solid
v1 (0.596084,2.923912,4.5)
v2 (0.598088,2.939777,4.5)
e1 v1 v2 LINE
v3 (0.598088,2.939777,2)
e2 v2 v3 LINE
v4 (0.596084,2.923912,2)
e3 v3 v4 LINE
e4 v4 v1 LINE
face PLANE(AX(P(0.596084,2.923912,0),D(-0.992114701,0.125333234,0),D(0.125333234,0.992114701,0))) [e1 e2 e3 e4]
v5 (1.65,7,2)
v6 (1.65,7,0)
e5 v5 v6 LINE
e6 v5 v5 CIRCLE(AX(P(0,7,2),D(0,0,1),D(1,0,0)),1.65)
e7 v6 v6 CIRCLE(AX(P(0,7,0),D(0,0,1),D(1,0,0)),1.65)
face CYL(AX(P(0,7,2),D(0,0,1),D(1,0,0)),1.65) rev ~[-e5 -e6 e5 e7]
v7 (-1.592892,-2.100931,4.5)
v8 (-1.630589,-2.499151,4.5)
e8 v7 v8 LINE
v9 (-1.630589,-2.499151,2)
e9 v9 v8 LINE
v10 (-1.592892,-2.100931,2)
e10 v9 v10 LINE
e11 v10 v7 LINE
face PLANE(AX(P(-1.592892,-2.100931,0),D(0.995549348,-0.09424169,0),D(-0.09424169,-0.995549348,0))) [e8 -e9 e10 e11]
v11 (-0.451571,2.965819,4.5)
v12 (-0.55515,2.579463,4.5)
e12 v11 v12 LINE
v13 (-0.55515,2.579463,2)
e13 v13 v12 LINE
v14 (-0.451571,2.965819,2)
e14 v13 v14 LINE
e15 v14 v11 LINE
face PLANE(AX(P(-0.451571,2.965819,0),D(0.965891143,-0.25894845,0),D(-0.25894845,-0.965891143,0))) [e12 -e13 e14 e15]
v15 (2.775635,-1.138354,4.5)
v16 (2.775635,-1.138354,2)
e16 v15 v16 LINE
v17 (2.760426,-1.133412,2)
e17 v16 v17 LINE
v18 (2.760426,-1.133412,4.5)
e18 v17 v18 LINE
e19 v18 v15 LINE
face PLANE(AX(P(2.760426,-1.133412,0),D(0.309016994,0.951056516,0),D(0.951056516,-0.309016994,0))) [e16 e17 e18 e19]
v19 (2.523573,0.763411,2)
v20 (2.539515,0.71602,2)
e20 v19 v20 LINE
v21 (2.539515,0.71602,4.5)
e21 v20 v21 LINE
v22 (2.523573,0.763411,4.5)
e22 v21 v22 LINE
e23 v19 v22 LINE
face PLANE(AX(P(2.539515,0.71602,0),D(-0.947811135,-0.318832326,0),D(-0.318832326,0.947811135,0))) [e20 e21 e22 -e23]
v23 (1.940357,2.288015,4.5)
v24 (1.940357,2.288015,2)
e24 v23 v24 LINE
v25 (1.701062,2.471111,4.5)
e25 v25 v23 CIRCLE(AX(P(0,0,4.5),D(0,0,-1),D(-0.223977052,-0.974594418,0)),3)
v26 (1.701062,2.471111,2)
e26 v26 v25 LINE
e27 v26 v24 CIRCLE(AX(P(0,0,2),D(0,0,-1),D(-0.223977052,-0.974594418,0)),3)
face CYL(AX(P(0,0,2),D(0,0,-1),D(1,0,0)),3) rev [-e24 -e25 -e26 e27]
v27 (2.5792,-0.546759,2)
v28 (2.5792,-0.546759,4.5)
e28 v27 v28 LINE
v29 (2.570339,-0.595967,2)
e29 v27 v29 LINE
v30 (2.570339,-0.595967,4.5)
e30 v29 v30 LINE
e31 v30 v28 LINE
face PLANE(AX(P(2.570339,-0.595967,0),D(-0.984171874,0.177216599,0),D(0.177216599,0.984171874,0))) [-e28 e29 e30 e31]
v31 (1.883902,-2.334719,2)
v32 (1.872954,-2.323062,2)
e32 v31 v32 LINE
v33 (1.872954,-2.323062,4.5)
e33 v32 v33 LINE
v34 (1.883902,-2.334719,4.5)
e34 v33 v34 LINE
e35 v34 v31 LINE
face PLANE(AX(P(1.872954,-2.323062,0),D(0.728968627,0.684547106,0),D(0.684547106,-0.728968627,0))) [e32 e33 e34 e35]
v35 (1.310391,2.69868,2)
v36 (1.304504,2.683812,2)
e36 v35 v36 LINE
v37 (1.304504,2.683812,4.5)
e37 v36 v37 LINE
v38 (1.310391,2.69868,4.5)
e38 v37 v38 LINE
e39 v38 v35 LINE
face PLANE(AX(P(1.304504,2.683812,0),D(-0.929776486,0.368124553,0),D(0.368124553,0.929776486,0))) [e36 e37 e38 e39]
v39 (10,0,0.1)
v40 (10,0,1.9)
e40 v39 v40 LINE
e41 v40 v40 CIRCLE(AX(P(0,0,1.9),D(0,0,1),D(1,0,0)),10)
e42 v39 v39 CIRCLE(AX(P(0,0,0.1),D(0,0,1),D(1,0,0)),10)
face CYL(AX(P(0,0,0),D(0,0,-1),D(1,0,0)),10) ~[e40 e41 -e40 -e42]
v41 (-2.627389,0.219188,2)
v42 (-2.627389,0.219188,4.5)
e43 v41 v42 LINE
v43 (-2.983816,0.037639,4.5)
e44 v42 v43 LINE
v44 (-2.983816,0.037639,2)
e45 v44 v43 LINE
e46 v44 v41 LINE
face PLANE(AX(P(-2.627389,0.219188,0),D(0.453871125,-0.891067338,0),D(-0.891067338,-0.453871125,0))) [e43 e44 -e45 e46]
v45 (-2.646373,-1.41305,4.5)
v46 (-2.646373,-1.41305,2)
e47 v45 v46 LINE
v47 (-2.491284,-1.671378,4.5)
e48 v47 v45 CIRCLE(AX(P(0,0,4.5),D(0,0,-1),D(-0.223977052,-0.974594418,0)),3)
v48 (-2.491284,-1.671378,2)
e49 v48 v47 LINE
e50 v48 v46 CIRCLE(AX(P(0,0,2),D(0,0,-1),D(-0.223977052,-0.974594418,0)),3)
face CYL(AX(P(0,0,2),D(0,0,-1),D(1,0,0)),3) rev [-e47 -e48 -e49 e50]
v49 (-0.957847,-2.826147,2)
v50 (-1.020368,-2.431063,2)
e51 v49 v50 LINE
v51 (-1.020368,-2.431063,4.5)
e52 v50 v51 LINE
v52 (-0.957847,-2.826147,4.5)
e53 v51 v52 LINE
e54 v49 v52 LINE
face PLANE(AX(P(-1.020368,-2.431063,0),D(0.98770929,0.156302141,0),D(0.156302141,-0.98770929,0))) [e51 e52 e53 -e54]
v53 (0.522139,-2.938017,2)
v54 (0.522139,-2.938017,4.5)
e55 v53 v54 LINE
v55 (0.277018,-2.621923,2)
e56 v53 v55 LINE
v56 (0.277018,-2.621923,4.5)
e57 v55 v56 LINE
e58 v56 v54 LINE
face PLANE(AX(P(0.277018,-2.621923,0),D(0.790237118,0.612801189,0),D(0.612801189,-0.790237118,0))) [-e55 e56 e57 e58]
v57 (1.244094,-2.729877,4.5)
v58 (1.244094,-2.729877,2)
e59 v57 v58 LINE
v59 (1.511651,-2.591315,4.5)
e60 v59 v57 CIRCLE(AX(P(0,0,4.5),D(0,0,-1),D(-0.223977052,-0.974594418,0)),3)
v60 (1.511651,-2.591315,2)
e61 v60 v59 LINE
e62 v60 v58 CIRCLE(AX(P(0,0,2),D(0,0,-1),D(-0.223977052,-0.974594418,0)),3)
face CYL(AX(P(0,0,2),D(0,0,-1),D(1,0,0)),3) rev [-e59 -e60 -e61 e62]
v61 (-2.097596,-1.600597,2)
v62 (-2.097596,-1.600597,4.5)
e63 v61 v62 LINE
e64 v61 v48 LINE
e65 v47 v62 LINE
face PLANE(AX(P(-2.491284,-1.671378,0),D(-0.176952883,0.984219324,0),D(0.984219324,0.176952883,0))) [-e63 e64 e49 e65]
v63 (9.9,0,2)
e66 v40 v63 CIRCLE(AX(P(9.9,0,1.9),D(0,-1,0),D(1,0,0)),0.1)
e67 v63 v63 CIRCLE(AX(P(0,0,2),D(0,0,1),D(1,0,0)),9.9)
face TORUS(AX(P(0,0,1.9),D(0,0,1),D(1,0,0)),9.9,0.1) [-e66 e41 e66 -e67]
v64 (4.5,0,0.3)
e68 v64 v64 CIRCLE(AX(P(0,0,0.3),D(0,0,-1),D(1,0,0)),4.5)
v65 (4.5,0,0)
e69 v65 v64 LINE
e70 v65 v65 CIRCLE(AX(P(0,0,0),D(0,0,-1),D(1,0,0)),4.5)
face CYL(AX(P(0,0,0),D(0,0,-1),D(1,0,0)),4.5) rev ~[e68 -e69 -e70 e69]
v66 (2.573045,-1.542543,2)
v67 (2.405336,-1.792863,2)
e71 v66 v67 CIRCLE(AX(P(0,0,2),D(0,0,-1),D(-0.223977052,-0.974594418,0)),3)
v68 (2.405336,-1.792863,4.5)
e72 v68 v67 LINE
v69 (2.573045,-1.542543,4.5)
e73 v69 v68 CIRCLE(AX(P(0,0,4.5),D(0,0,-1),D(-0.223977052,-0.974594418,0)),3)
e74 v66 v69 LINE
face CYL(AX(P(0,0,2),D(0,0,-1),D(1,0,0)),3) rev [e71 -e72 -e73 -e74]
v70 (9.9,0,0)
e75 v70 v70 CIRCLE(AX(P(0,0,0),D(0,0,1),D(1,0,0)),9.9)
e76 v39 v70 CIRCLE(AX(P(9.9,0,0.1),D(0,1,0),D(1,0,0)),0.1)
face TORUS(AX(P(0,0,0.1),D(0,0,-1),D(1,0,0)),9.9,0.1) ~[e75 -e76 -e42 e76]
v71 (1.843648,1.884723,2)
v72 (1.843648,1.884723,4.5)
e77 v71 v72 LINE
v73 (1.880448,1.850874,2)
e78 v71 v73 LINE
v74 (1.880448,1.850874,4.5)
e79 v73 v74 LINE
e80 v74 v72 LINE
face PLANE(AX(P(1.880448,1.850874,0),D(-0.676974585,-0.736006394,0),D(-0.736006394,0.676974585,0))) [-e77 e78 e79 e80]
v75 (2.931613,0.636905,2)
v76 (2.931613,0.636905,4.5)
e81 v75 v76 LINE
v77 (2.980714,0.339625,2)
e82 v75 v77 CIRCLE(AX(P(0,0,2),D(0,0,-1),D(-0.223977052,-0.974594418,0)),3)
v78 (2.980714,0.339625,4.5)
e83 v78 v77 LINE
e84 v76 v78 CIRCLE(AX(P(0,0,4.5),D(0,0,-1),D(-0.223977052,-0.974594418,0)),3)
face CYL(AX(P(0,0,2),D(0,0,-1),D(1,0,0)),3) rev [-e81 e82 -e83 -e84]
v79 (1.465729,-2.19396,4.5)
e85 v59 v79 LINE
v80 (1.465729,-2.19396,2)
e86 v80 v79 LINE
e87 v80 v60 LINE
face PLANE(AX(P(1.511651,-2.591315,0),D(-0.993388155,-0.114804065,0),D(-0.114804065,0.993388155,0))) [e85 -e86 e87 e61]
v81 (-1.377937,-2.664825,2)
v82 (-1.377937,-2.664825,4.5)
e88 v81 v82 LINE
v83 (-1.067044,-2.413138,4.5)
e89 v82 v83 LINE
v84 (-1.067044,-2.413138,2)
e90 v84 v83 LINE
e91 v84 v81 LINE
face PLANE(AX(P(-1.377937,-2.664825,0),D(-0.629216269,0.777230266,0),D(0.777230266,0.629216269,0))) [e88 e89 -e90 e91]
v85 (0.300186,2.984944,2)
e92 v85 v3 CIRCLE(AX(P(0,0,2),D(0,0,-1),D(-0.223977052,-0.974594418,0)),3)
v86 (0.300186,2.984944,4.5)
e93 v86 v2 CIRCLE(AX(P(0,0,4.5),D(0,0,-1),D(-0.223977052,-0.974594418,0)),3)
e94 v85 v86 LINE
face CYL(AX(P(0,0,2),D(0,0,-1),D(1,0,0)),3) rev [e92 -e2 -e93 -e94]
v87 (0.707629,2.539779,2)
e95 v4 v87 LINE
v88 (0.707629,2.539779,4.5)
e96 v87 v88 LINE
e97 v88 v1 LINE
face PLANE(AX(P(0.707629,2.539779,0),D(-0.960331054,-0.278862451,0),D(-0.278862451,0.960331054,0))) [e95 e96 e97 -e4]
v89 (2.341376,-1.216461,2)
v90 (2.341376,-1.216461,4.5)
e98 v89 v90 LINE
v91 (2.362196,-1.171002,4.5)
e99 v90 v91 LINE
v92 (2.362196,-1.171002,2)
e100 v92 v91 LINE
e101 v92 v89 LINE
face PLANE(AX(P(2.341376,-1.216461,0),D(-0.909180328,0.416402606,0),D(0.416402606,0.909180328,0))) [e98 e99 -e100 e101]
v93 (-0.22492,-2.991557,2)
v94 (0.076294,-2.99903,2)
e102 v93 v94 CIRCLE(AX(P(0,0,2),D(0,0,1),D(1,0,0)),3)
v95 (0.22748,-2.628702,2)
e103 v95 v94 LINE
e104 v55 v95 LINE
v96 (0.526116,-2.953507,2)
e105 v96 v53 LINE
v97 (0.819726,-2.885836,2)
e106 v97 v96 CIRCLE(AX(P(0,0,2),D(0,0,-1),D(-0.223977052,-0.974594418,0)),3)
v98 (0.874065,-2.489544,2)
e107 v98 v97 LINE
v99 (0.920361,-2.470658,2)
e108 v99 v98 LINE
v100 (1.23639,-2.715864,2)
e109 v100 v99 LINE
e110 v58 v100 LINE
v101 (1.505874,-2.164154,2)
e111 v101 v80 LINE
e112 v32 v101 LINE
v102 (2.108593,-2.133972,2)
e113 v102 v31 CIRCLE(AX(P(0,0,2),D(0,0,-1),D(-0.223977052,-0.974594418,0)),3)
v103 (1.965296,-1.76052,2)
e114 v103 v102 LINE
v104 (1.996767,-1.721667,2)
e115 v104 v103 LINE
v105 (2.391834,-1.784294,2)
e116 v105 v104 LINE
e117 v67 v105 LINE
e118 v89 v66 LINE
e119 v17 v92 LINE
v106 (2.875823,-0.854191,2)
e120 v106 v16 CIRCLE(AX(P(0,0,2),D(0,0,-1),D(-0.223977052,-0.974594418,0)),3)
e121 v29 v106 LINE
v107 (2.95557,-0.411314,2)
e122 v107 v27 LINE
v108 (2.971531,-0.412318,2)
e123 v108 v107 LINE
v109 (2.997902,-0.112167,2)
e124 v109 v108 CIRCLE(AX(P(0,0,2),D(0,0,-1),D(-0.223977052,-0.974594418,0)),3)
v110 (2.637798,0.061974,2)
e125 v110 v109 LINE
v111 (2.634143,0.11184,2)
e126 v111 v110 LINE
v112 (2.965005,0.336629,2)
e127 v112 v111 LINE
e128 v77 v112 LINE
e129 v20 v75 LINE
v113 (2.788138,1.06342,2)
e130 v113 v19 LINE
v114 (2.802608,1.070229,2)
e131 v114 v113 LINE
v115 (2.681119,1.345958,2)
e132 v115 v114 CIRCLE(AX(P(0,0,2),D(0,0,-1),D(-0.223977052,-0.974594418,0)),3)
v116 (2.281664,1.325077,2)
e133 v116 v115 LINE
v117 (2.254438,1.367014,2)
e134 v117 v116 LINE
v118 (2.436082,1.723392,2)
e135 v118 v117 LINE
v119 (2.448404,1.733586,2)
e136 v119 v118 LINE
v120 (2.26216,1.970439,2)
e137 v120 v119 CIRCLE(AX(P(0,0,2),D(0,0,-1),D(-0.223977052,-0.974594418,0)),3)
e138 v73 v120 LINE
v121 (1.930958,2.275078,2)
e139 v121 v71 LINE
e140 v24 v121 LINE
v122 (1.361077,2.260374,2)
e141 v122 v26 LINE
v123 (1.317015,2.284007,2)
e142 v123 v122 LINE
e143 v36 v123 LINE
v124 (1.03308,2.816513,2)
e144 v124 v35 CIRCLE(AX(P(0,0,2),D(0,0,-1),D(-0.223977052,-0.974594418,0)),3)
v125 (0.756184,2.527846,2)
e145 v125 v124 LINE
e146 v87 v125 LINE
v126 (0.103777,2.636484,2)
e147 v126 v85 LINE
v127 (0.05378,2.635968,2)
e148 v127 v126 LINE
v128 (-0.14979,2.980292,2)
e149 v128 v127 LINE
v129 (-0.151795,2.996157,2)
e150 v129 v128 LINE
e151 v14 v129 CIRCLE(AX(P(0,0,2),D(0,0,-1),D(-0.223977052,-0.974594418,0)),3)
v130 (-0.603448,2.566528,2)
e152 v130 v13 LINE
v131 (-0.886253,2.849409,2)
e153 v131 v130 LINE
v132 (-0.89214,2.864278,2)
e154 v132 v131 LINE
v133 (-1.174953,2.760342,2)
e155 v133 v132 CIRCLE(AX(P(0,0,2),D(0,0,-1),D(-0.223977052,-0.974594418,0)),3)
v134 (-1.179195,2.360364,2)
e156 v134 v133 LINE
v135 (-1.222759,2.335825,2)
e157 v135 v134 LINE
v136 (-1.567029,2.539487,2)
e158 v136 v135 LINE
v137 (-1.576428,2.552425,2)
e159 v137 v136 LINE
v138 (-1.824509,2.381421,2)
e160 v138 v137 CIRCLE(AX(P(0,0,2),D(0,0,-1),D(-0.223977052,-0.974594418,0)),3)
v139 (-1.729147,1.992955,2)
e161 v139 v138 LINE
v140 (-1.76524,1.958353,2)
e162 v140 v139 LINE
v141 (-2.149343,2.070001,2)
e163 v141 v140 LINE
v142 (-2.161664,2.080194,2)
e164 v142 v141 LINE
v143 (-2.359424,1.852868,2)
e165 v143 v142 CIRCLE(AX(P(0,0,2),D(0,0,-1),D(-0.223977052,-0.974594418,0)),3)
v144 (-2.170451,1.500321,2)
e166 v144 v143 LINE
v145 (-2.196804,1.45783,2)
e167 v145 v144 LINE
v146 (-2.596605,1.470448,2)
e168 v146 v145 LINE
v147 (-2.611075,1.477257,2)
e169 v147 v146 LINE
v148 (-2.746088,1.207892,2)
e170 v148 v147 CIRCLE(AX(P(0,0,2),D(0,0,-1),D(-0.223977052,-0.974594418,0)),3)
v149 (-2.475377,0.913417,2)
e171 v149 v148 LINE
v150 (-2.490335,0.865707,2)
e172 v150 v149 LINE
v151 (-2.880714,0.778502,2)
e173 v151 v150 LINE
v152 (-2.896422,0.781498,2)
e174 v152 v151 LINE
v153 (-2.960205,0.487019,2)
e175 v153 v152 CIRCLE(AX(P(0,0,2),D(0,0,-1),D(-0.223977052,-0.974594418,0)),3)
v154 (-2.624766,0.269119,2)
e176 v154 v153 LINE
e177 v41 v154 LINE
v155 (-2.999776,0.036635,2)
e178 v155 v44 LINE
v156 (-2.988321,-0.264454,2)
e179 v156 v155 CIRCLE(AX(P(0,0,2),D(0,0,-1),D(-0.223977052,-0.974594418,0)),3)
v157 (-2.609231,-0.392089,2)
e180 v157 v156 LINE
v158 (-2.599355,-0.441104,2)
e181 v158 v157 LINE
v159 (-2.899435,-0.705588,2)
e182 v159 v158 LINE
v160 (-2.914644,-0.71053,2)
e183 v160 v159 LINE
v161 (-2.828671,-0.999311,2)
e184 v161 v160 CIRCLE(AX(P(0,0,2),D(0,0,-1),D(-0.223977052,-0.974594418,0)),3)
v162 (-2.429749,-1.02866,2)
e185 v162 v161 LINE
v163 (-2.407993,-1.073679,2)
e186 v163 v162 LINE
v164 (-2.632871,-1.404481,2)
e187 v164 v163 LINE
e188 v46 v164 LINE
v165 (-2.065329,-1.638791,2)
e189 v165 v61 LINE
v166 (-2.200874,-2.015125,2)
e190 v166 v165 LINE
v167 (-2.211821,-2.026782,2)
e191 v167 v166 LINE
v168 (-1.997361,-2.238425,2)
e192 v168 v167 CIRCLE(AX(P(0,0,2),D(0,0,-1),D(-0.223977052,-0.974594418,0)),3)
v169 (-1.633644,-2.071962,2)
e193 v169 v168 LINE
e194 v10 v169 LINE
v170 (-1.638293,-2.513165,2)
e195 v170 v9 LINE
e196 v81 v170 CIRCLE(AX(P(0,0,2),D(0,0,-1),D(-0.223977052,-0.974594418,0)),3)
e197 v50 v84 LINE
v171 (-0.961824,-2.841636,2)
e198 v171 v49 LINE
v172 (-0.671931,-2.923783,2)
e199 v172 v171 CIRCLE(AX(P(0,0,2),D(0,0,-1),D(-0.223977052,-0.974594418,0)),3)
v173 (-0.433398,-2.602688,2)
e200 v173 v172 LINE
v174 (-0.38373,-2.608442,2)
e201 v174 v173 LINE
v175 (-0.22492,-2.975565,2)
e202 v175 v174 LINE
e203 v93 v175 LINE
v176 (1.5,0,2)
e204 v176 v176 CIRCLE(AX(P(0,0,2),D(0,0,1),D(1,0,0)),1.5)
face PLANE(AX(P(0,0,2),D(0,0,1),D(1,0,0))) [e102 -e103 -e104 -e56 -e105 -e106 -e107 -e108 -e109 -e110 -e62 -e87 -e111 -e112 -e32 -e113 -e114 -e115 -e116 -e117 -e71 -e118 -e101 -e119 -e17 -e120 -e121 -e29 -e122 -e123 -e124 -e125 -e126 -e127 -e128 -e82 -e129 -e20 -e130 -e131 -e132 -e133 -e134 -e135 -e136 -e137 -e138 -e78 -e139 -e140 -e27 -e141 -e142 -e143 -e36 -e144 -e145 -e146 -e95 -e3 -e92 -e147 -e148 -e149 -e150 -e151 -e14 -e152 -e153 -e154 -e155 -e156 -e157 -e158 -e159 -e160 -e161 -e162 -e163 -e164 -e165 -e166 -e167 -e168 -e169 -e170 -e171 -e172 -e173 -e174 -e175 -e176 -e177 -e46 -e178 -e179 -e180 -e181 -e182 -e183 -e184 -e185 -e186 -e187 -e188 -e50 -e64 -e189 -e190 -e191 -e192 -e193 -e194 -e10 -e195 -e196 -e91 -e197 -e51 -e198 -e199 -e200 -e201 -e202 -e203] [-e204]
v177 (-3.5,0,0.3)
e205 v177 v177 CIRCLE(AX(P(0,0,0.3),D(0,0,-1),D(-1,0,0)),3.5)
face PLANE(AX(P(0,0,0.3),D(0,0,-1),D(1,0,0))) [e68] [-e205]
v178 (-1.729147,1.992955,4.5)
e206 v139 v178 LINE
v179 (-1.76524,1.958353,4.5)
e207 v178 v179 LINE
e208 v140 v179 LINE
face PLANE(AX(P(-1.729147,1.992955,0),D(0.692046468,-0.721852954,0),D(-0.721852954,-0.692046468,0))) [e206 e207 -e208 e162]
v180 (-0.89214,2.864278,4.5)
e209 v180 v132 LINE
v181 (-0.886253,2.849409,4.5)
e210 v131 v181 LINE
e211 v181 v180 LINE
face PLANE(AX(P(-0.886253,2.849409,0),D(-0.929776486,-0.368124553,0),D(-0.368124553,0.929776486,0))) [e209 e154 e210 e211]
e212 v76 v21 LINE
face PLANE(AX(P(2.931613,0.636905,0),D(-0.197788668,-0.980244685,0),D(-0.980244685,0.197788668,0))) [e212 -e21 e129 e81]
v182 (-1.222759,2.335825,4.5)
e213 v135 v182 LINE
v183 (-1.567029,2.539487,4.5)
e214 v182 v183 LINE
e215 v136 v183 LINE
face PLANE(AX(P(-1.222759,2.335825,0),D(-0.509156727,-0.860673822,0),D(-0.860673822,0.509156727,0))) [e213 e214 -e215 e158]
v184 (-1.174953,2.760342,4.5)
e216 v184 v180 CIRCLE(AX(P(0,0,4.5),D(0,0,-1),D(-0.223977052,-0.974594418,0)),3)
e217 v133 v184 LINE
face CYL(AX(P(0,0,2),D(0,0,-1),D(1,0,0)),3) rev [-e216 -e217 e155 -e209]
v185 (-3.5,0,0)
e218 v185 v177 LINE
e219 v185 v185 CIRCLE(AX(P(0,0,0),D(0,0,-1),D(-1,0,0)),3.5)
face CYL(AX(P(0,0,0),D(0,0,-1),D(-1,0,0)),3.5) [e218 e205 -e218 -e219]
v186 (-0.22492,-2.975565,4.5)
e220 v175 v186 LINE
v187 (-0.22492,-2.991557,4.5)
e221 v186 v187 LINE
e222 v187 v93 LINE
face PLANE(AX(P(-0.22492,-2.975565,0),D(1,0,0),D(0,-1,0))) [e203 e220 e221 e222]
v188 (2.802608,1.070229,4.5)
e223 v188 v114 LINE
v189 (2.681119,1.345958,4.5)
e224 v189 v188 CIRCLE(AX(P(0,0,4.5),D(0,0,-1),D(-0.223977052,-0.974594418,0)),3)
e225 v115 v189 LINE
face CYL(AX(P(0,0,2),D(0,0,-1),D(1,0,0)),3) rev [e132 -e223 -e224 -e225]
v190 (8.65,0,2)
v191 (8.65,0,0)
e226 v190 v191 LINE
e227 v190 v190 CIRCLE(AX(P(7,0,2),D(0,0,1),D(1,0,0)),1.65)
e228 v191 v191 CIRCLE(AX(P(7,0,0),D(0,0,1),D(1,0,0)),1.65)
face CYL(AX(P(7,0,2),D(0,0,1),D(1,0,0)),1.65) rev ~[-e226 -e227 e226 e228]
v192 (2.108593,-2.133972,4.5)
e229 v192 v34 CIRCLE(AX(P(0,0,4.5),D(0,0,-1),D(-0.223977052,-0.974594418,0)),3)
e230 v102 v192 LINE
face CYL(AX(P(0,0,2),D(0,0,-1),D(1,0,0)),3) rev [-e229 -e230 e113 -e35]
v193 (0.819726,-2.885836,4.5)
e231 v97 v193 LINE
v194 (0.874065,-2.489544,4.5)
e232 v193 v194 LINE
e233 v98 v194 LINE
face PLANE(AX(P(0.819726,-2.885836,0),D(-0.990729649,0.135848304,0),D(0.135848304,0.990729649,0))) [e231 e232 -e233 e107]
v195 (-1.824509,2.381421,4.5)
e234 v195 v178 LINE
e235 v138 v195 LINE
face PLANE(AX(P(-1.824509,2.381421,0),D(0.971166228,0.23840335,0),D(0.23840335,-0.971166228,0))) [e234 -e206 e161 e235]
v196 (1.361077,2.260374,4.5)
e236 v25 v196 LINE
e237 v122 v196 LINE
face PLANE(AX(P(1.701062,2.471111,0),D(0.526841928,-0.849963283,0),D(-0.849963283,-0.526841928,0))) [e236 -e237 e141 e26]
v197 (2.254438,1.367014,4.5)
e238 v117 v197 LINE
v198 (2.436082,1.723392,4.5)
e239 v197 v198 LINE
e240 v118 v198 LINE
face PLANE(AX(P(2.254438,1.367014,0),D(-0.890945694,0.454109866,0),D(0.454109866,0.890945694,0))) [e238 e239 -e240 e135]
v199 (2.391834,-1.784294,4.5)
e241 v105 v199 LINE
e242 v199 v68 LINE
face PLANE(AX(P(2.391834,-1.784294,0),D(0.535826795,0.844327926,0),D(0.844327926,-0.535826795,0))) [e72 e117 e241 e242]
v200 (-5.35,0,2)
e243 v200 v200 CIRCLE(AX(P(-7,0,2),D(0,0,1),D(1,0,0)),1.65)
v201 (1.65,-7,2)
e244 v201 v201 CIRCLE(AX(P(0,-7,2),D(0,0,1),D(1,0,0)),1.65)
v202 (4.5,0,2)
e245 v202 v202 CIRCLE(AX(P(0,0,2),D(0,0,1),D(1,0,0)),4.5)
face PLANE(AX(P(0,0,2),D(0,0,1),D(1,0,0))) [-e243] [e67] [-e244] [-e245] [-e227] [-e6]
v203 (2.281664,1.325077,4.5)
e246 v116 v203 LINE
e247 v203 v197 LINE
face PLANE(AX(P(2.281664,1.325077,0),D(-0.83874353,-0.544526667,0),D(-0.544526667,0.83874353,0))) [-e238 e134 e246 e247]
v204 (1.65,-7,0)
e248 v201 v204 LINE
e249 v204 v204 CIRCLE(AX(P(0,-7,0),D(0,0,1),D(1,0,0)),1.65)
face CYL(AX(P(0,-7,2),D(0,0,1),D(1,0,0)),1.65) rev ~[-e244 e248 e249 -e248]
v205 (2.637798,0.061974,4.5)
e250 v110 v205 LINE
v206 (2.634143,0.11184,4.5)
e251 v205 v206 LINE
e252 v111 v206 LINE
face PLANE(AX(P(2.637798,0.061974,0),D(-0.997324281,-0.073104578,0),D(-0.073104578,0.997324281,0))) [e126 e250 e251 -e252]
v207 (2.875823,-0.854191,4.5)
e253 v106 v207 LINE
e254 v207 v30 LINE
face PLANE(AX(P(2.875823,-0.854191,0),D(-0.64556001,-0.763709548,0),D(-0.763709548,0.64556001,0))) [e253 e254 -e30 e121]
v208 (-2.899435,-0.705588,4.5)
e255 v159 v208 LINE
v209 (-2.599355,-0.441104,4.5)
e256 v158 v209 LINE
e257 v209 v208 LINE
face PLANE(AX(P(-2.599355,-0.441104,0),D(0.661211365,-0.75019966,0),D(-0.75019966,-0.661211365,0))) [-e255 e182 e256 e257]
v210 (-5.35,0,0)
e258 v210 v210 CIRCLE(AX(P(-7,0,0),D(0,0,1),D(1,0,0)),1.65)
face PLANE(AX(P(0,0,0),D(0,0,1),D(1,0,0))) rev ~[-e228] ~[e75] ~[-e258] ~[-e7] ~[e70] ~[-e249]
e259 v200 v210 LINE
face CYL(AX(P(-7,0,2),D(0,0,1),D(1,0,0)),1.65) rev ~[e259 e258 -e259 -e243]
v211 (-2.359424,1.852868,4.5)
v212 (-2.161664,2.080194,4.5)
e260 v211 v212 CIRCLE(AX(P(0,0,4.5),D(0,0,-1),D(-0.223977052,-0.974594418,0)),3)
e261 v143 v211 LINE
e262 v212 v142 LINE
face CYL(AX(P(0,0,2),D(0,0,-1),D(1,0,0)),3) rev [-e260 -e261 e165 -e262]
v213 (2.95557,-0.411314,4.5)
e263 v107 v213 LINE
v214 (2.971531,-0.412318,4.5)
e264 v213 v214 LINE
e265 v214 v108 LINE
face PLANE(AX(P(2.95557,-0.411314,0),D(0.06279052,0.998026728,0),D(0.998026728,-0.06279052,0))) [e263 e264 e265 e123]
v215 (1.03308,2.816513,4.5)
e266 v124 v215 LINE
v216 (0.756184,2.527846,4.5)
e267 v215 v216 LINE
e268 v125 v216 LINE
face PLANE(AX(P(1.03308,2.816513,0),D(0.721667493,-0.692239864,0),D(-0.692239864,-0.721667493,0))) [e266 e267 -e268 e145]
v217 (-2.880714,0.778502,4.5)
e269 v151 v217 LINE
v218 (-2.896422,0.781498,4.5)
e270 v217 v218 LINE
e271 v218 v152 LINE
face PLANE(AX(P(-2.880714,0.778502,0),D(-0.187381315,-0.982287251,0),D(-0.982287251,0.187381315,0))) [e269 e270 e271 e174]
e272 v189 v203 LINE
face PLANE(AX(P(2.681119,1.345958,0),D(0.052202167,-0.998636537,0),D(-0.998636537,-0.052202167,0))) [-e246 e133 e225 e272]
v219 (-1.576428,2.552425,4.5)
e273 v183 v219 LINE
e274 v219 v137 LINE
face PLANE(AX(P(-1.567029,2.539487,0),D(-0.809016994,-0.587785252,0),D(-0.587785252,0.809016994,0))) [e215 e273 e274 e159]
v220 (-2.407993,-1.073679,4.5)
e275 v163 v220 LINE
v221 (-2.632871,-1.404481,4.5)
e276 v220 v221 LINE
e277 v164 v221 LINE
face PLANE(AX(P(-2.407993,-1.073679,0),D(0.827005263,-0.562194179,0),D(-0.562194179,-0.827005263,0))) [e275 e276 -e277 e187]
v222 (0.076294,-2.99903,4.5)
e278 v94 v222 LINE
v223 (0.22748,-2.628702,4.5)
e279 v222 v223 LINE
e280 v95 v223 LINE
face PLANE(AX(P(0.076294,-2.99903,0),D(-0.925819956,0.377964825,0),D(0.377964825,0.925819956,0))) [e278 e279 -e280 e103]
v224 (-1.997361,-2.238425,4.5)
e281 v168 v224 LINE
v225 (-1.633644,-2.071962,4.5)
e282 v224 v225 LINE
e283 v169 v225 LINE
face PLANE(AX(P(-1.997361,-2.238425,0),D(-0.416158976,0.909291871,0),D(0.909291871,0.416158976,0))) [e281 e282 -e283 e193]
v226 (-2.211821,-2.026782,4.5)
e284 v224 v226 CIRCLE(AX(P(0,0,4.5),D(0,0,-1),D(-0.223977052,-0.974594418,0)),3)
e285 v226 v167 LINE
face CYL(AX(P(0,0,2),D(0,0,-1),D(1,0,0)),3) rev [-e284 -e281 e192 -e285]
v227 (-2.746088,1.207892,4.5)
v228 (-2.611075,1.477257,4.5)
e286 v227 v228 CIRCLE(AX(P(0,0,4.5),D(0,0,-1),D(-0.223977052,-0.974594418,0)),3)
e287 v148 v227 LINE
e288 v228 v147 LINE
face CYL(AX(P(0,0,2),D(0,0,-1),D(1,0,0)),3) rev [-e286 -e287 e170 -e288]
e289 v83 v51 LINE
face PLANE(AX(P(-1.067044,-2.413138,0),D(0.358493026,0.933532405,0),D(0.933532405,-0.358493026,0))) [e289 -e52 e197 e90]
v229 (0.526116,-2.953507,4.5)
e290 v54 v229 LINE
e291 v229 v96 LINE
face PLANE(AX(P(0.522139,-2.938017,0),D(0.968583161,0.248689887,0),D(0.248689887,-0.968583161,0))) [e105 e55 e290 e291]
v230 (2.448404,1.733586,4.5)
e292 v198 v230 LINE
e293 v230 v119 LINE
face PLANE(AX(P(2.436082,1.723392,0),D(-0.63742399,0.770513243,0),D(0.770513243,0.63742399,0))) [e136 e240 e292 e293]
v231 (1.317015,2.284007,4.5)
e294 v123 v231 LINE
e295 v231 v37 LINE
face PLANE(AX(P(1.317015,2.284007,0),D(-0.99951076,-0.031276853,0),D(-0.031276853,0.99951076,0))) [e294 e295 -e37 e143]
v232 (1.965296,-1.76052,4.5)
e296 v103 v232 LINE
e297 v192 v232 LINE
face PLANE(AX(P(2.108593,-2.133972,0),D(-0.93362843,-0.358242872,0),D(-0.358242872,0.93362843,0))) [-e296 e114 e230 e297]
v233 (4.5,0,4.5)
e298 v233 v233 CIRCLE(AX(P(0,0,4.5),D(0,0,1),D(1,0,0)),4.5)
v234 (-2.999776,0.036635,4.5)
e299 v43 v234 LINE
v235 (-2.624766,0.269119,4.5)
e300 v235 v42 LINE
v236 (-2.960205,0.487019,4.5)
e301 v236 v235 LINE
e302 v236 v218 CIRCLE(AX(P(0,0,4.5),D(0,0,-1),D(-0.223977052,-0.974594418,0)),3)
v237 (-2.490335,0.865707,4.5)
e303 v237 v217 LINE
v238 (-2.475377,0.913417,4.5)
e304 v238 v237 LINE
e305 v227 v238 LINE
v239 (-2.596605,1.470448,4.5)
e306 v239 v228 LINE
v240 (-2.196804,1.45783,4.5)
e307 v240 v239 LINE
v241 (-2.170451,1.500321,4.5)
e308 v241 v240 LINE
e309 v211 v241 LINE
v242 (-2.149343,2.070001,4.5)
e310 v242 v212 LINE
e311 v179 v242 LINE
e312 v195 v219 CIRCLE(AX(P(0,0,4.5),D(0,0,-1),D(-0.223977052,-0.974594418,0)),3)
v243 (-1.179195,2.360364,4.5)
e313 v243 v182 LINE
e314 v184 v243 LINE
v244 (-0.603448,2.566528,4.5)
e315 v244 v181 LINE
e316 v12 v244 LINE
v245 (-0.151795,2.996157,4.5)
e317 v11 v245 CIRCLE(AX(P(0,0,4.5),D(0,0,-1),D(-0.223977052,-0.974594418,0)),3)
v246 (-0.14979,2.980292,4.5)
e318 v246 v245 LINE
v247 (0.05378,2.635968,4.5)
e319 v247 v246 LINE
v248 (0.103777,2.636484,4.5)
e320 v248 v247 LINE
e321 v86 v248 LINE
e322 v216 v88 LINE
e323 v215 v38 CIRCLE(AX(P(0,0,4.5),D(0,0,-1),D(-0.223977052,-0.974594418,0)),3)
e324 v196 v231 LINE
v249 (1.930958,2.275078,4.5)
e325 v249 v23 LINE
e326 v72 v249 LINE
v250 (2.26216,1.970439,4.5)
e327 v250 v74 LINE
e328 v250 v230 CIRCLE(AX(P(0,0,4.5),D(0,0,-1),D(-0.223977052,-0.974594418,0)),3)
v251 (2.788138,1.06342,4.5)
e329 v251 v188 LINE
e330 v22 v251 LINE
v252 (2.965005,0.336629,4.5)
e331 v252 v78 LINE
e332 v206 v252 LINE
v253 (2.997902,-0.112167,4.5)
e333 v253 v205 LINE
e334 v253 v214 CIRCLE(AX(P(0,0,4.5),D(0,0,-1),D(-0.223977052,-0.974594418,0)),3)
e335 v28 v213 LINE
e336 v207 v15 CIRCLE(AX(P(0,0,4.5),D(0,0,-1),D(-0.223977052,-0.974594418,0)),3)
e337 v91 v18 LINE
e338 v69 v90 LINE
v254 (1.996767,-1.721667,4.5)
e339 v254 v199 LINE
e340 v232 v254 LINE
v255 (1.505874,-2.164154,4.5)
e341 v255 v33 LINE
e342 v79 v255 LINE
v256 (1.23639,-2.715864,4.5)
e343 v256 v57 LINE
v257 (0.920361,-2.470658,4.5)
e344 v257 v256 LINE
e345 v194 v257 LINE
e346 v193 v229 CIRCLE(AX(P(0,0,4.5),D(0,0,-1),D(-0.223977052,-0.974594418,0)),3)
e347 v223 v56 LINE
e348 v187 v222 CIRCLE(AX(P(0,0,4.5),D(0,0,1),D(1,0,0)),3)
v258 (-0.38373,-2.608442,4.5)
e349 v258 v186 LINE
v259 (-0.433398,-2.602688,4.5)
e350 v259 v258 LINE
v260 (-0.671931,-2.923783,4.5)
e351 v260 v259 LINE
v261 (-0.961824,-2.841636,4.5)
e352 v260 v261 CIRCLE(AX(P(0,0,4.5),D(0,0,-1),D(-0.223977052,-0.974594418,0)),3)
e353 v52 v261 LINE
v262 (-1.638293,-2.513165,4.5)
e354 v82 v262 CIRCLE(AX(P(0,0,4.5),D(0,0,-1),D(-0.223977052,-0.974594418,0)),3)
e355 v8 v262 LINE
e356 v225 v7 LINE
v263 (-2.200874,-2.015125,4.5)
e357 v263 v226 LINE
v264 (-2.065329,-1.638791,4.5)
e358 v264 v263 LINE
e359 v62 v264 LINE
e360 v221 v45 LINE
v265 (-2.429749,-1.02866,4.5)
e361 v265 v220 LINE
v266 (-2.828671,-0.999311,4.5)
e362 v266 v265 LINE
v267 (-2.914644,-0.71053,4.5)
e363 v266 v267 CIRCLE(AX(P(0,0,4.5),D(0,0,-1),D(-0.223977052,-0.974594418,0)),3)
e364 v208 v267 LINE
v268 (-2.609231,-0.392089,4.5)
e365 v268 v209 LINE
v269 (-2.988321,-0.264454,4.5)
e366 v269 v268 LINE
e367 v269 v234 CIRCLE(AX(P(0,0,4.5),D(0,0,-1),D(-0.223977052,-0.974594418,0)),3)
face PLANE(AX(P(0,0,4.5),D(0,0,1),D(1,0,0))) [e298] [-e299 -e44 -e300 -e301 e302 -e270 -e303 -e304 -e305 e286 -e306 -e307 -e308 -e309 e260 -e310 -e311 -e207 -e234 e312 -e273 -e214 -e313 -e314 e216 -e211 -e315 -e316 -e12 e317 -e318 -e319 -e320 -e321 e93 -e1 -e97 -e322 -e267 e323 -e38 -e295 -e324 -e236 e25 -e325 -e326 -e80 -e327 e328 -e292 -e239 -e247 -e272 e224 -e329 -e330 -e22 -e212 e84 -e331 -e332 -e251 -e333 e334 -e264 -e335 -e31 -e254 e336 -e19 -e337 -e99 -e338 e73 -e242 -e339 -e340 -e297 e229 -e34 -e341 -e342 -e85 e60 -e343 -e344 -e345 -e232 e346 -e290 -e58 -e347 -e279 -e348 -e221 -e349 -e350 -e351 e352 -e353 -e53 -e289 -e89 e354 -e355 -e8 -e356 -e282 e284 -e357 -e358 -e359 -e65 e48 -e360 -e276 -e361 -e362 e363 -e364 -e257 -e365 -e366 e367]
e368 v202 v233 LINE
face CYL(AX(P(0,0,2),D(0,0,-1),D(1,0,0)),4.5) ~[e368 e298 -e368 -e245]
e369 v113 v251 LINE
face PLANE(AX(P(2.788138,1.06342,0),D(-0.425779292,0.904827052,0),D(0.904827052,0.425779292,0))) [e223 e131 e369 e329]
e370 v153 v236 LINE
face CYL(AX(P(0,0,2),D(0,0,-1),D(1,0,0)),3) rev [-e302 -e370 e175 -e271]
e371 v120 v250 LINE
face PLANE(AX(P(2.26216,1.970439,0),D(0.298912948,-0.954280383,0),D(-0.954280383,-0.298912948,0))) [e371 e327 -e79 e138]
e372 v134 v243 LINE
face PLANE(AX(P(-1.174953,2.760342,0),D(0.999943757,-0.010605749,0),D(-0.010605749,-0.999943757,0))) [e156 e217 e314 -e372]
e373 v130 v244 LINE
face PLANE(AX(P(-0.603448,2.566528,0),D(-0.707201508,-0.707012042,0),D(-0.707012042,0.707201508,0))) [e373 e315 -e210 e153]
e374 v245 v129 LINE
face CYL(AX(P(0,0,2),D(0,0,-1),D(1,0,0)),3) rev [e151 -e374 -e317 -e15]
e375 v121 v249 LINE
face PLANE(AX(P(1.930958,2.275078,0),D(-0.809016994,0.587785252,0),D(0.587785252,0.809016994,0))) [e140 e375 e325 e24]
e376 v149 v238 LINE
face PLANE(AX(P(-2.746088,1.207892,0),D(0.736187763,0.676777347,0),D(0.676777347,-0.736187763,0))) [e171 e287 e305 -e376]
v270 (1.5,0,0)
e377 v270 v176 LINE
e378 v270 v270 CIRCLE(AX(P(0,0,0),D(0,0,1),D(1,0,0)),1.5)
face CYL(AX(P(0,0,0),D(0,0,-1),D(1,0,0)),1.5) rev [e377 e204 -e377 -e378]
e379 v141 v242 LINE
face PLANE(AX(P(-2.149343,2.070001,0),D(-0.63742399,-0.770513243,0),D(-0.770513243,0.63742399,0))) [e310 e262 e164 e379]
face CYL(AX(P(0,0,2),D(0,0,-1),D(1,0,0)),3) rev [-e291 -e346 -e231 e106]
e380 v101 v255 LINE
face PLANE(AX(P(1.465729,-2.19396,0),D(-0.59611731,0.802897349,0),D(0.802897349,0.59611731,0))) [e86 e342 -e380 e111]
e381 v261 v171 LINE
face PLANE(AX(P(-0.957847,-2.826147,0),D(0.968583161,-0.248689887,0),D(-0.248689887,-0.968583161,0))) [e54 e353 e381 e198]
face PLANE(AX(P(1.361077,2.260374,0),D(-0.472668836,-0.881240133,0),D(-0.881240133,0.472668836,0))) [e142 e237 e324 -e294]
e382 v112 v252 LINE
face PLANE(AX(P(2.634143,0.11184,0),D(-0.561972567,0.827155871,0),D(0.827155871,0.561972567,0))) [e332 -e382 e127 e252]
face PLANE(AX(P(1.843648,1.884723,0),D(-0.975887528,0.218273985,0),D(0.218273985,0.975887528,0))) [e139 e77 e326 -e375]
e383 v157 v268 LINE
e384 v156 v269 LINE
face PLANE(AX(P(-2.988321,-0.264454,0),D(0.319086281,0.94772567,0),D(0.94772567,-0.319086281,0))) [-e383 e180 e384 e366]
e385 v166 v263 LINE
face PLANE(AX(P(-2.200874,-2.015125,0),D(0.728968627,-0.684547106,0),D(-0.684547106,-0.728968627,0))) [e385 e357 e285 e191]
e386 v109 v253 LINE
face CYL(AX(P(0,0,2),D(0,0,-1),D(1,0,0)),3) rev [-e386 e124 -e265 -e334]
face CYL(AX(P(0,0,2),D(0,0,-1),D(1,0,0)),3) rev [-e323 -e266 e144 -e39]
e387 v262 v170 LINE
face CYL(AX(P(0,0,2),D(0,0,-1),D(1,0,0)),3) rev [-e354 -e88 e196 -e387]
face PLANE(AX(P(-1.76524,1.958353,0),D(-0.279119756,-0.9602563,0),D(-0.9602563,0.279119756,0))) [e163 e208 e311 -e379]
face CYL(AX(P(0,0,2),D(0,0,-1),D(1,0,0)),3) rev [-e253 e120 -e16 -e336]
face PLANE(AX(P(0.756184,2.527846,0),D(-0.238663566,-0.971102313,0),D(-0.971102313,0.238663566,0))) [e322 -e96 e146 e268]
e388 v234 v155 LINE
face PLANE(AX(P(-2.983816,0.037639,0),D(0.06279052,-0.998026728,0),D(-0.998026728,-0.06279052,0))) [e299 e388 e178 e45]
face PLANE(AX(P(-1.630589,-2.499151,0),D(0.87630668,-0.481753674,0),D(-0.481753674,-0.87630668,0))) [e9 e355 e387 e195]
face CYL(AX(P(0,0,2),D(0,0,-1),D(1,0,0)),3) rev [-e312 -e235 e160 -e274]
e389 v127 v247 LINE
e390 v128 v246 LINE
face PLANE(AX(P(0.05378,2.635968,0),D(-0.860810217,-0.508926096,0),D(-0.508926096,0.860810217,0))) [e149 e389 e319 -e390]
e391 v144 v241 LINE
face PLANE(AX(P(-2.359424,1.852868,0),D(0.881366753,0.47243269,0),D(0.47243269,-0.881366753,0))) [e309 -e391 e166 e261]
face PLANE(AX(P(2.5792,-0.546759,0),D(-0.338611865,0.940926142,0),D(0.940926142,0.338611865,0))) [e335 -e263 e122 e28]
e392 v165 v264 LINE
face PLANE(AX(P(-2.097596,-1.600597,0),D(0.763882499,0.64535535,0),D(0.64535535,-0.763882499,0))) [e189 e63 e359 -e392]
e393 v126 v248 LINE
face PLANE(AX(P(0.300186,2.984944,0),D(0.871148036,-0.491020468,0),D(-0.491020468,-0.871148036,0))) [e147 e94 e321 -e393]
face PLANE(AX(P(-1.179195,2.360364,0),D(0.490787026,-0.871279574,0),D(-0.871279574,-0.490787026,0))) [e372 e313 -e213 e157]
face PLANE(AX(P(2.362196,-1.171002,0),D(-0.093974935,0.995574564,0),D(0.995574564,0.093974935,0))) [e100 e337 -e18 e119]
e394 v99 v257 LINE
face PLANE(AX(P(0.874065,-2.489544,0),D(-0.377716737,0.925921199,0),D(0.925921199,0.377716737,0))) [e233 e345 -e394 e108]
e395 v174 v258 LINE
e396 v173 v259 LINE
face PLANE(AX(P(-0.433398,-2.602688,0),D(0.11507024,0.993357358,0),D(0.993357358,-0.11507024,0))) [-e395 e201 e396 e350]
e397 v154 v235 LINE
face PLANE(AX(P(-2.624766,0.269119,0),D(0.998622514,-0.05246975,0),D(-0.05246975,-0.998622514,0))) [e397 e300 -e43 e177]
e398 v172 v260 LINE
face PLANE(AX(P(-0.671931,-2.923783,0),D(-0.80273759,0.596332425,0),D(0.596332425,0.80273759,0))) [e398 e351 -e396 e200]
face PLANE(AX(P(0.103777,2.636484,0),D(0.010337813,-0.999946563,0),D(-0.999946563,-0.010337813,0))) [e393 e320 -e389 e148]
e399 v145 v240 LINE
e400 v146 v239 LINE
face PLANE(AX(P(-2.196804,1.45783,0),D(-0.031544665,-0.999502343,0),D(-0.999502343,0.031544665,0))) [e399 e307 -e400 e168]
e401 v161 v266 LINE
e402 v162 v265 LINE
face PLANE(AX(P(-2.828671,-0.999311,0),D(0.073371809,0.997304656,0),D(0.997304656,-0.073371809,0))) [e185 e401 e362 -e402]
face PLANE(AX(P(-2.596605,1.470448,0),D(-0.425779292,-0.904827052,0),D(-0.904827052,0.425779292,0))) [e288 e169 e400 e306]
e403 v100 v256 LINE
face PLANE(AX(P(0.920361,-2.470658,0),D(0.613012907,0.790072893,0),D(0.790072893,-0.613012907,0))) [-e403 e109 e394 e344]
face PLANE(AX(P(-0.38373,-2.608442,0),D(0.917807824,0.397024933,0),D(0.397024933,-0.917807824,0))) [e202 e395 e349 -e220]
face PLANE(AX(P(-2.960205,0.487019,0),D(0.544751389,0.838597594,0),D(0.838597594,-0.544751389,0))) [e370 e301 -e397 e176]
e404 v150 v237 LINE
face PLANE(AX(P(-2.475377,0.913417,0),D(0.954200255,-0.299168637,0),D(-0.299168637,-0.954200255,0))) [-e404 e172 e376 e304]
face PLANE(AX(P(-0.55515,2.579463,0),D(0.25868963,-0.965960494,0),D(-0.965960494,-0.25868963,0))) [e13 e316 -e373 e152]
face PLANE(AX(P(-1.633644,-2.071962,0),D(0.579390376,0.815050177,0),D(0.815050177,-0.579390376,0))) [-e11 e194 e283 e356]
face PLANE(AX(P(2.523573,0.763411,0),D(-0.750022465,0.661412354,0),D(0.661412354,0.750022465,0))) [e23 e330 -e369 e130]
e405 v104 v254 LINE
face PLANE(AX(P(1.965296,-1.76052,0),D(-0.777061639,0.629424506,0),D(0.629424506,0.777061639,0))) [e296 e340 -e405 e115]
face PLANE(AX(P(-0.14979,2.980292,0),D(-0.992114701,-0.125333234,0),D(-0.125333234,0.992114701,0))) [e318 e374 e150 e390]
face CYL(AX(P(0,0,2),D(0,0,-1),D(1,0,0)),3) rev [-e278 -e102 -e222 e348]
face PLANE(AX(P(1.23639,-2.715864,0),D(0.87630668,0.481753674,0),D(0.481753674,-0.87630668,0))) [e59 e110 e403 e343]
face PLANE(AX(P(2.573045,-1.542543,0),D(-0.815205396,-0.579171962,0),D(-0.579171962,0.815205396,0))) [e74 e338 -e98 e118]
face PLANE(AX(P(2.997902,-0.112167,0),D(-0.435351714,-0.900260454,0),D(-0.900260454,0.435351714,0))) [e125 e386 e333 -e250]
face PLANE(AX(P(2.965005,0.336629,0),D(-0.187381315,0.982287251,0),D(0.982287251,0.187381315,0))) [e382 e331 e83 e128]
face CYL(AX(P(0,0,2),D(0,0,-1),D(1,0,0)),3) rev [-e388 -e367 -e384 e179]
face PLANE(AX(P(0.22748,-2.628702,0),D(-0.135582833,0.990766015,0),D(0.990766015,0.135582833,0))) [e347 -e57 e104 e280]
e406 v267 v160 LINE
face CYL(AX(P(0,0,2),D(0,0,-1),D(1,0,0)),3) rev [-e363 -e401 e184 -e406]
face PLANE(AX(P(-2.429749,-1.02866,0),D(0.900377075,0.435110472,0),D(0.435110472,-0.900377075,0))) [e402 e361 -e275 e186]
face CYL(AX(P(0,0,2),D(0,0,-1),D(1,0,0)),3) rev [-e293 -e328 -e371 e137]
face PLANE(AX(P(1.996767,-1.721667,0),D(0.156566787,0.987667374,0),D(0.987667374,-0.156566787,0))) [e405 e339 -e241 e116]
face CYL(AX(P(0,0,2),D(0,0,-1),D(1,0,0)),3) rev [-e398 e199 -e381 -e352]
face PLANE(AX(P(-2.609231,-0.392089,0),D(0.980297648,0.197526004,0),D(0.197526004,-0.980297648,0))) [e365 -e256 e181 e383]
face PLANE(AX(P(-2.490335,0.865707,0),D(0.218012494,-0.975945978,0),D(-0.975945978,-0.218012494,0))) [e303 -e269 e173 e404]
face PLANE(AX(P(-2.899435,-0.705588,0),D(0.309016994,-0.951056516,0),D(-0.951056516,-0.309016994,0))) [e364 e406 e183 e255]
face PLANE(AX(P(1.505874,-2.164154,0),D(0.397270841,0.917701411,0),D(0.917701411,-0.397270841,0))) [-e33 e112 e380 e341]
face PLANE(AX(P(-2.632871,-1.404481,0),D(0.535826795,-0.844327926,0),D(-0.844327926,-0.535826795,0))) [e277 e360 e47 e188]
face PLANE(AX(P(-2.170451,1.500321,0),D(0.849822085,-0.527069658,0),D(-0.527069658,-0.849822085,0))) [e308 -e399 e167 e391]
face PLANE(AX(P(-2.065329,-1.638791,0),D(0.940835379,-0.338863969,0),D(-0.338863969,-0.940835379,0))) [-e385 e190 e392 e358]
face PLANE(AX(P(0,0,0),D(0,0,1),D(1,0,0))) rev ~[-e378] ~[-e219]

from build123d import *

# Parameters (mm, degrees)
SKETCH3_R           = 10
SKETCH3_R_2         = 1.5
BOSS_EXTRUDE2_DEPTH = 2
FILLET1_R           = 0.1
SKETCH5_R           = 4.5
SKETCH5_R_2         = 3
BOSS_EXTRUDE3_DEPTH = 2.5
SKETCH6_R           = 4.5
SKETCH6_R_2         = 3.5
CUT_EXTRUDE3_DEPTH  = 0.3
BOSS_EXTRUDE1_DEPTH = 4.5
CIRPATTERN6_COUNT   = 25
CUT_EXTRUDE4_REACH  = 16.361
SKETCH8_R           = 1.65


with BuildPart() as part:
    # Sketch3 → Boss-Extrude2 (new body)
    with BuildSketch(Plane.XY):
        Circle(SKETCH3_R)
        Circle(SKETCH3_R_2, mode=Mode.SUBTRACT)
    extrude(amount=BOSS_EXTRUDE2_DEPTH)

    # Fillet1
    fillet1_edges = [part.edges().sort_by_distance(p)[0] for p in [
        (-10, 0, 0),
        (-10, 0, 2),
    ]]
    fillet(fillet1_edges, radius=FILLET1_R)

    # Sketch5 → Boss-Extrude3 (add)
    with BuildSketch(Plane.XY.offset(2)):
        Circle(SKETCH5_R)
        Circle(SKETCH5_R_2, mode=Mode.SUBTRACT)
    extrude(amount=BOSS_EXTRUDE3_DEPTH)

    # Sketch6 → Cut-Extrude3 (cut)
    with BuildSketch(Plane(origin=(0, 0, 0), x_dir=(-1, 0, 0), z_dir=(0, 0, -1))):
        with Locations(Location((0, 0, 0), (0, 0, 180))):
            Circle(SKETCH6_R)
        Circle(SKETCH6_R_2, mode=Mode.SUBTRACT)
    extrude(amount=-CUT_EXTRUDE3_DEPTH, mode=Mode.SUBTRACT)

    # Sketch2 → Boss-Extrude1 (add)
    with BuildSketch(Plane.XY):
        Polygon((-0.224920346, -2.97556486), (-0.224920346, -3.054661592), (-0.671931157, -3.032807749), (-0.671931157, -2.923783255), (-0.433398187, -2.602688219), (-0.383730319, -2.608441731), align=None)
    boss_extrude1 = extrude(amount=BOSS_EXTRUDE1_DEPTH)

    # CirPattern6: Boss-Extrude1 ×25 about axis
    cirpattern6_axis = Axis((0, 0, 0), (0, 0, 1))
    for i in range(1, CIRPATTERN6_COUNT):
        add(boss_extrude1.rotate(cirpattern6_axis, i * 360 / CIRPATTERN6_COUNT))

    # Sketch8 → Cut-Extrude4 (cut, up to next)
    with BuildSketch(Plane.XY.offset(2), mode=Mode.PRIVATE) as cut_extrude4_sk1:
        with Locations((0, 7)):
            Circle(SKETCH8_R)
    cut_extrude4_tool1 = extrude(cut_extrude4_sk1.sketch, amount=-CUT_EXTRUDE4_REACH, mode=Mode.PRIVATE) & part.part
    # Sketch8 → Cut-Extrude4 (cut, up to next)
    with BuildSketch(Plane.XY.offset(2), mode=Mode.PRIVATE) as cut_extrude4_sk2:
        with Locations((0, -7)):
            Circle(SKETCH8_R)
    cut_extrude4_tool2 = extrude(cut_extrude4_sk2.sketch, amount=-CUT_EXTRUDE4_REACH, mode=Mode.PRIVATE) & part.part
    # Sketch8 → Cut-Extrude4 (cut, up to next)
    with BuildSketch(Plane.XY.offset(2), mode=Mode.PRIVATE) as cut_extrude4_sk3:
        with Locations((7, 0)):
            Circle(SKETCH8_R)
    cut_extrude4_tool3 = extrude(cut_extrude4_sk3.sketch, amount=-CUT_EXTRUDE4_REACH, mode=Mode.PRIVATE) & part.part
    # Sketch8 → Cut-Extrude4 (cut, up to next)
    with BuildSketch(Plane.XY.offset(2), mode=Mode.PRIVATE) as cut_extrude4_sk4:
        with Locations((-7, 0)):
            Circle(SKETCH8_R)
    cut_extrude4_tool4 = extrude(cut_extrude4_sk4.sketch, amount=-CUT_EXTRUDE4_REACH, mode=Mode.PRIVATE) & part.part
    add(cut_extrude4_tool1.solids().sort_by_distance((0, 7, 2))[0], mode=Mode.SUBTRACT)
    add(cut_extrude4_tool2.solids().sort_by_distance((0, -7, 2))[0], mode=Mode.SUBTRACT)
    add(cut_extrude4_tool3.solids().sort_by_distance((7, 0, 2))[0], mode=Mode.SUBTRACT)
    add(cut_extrude4_tool4.solids().sort_by_distance((-7, 0, 2))[0], mode=Mode.SUBTRACT)


solid = part.part
